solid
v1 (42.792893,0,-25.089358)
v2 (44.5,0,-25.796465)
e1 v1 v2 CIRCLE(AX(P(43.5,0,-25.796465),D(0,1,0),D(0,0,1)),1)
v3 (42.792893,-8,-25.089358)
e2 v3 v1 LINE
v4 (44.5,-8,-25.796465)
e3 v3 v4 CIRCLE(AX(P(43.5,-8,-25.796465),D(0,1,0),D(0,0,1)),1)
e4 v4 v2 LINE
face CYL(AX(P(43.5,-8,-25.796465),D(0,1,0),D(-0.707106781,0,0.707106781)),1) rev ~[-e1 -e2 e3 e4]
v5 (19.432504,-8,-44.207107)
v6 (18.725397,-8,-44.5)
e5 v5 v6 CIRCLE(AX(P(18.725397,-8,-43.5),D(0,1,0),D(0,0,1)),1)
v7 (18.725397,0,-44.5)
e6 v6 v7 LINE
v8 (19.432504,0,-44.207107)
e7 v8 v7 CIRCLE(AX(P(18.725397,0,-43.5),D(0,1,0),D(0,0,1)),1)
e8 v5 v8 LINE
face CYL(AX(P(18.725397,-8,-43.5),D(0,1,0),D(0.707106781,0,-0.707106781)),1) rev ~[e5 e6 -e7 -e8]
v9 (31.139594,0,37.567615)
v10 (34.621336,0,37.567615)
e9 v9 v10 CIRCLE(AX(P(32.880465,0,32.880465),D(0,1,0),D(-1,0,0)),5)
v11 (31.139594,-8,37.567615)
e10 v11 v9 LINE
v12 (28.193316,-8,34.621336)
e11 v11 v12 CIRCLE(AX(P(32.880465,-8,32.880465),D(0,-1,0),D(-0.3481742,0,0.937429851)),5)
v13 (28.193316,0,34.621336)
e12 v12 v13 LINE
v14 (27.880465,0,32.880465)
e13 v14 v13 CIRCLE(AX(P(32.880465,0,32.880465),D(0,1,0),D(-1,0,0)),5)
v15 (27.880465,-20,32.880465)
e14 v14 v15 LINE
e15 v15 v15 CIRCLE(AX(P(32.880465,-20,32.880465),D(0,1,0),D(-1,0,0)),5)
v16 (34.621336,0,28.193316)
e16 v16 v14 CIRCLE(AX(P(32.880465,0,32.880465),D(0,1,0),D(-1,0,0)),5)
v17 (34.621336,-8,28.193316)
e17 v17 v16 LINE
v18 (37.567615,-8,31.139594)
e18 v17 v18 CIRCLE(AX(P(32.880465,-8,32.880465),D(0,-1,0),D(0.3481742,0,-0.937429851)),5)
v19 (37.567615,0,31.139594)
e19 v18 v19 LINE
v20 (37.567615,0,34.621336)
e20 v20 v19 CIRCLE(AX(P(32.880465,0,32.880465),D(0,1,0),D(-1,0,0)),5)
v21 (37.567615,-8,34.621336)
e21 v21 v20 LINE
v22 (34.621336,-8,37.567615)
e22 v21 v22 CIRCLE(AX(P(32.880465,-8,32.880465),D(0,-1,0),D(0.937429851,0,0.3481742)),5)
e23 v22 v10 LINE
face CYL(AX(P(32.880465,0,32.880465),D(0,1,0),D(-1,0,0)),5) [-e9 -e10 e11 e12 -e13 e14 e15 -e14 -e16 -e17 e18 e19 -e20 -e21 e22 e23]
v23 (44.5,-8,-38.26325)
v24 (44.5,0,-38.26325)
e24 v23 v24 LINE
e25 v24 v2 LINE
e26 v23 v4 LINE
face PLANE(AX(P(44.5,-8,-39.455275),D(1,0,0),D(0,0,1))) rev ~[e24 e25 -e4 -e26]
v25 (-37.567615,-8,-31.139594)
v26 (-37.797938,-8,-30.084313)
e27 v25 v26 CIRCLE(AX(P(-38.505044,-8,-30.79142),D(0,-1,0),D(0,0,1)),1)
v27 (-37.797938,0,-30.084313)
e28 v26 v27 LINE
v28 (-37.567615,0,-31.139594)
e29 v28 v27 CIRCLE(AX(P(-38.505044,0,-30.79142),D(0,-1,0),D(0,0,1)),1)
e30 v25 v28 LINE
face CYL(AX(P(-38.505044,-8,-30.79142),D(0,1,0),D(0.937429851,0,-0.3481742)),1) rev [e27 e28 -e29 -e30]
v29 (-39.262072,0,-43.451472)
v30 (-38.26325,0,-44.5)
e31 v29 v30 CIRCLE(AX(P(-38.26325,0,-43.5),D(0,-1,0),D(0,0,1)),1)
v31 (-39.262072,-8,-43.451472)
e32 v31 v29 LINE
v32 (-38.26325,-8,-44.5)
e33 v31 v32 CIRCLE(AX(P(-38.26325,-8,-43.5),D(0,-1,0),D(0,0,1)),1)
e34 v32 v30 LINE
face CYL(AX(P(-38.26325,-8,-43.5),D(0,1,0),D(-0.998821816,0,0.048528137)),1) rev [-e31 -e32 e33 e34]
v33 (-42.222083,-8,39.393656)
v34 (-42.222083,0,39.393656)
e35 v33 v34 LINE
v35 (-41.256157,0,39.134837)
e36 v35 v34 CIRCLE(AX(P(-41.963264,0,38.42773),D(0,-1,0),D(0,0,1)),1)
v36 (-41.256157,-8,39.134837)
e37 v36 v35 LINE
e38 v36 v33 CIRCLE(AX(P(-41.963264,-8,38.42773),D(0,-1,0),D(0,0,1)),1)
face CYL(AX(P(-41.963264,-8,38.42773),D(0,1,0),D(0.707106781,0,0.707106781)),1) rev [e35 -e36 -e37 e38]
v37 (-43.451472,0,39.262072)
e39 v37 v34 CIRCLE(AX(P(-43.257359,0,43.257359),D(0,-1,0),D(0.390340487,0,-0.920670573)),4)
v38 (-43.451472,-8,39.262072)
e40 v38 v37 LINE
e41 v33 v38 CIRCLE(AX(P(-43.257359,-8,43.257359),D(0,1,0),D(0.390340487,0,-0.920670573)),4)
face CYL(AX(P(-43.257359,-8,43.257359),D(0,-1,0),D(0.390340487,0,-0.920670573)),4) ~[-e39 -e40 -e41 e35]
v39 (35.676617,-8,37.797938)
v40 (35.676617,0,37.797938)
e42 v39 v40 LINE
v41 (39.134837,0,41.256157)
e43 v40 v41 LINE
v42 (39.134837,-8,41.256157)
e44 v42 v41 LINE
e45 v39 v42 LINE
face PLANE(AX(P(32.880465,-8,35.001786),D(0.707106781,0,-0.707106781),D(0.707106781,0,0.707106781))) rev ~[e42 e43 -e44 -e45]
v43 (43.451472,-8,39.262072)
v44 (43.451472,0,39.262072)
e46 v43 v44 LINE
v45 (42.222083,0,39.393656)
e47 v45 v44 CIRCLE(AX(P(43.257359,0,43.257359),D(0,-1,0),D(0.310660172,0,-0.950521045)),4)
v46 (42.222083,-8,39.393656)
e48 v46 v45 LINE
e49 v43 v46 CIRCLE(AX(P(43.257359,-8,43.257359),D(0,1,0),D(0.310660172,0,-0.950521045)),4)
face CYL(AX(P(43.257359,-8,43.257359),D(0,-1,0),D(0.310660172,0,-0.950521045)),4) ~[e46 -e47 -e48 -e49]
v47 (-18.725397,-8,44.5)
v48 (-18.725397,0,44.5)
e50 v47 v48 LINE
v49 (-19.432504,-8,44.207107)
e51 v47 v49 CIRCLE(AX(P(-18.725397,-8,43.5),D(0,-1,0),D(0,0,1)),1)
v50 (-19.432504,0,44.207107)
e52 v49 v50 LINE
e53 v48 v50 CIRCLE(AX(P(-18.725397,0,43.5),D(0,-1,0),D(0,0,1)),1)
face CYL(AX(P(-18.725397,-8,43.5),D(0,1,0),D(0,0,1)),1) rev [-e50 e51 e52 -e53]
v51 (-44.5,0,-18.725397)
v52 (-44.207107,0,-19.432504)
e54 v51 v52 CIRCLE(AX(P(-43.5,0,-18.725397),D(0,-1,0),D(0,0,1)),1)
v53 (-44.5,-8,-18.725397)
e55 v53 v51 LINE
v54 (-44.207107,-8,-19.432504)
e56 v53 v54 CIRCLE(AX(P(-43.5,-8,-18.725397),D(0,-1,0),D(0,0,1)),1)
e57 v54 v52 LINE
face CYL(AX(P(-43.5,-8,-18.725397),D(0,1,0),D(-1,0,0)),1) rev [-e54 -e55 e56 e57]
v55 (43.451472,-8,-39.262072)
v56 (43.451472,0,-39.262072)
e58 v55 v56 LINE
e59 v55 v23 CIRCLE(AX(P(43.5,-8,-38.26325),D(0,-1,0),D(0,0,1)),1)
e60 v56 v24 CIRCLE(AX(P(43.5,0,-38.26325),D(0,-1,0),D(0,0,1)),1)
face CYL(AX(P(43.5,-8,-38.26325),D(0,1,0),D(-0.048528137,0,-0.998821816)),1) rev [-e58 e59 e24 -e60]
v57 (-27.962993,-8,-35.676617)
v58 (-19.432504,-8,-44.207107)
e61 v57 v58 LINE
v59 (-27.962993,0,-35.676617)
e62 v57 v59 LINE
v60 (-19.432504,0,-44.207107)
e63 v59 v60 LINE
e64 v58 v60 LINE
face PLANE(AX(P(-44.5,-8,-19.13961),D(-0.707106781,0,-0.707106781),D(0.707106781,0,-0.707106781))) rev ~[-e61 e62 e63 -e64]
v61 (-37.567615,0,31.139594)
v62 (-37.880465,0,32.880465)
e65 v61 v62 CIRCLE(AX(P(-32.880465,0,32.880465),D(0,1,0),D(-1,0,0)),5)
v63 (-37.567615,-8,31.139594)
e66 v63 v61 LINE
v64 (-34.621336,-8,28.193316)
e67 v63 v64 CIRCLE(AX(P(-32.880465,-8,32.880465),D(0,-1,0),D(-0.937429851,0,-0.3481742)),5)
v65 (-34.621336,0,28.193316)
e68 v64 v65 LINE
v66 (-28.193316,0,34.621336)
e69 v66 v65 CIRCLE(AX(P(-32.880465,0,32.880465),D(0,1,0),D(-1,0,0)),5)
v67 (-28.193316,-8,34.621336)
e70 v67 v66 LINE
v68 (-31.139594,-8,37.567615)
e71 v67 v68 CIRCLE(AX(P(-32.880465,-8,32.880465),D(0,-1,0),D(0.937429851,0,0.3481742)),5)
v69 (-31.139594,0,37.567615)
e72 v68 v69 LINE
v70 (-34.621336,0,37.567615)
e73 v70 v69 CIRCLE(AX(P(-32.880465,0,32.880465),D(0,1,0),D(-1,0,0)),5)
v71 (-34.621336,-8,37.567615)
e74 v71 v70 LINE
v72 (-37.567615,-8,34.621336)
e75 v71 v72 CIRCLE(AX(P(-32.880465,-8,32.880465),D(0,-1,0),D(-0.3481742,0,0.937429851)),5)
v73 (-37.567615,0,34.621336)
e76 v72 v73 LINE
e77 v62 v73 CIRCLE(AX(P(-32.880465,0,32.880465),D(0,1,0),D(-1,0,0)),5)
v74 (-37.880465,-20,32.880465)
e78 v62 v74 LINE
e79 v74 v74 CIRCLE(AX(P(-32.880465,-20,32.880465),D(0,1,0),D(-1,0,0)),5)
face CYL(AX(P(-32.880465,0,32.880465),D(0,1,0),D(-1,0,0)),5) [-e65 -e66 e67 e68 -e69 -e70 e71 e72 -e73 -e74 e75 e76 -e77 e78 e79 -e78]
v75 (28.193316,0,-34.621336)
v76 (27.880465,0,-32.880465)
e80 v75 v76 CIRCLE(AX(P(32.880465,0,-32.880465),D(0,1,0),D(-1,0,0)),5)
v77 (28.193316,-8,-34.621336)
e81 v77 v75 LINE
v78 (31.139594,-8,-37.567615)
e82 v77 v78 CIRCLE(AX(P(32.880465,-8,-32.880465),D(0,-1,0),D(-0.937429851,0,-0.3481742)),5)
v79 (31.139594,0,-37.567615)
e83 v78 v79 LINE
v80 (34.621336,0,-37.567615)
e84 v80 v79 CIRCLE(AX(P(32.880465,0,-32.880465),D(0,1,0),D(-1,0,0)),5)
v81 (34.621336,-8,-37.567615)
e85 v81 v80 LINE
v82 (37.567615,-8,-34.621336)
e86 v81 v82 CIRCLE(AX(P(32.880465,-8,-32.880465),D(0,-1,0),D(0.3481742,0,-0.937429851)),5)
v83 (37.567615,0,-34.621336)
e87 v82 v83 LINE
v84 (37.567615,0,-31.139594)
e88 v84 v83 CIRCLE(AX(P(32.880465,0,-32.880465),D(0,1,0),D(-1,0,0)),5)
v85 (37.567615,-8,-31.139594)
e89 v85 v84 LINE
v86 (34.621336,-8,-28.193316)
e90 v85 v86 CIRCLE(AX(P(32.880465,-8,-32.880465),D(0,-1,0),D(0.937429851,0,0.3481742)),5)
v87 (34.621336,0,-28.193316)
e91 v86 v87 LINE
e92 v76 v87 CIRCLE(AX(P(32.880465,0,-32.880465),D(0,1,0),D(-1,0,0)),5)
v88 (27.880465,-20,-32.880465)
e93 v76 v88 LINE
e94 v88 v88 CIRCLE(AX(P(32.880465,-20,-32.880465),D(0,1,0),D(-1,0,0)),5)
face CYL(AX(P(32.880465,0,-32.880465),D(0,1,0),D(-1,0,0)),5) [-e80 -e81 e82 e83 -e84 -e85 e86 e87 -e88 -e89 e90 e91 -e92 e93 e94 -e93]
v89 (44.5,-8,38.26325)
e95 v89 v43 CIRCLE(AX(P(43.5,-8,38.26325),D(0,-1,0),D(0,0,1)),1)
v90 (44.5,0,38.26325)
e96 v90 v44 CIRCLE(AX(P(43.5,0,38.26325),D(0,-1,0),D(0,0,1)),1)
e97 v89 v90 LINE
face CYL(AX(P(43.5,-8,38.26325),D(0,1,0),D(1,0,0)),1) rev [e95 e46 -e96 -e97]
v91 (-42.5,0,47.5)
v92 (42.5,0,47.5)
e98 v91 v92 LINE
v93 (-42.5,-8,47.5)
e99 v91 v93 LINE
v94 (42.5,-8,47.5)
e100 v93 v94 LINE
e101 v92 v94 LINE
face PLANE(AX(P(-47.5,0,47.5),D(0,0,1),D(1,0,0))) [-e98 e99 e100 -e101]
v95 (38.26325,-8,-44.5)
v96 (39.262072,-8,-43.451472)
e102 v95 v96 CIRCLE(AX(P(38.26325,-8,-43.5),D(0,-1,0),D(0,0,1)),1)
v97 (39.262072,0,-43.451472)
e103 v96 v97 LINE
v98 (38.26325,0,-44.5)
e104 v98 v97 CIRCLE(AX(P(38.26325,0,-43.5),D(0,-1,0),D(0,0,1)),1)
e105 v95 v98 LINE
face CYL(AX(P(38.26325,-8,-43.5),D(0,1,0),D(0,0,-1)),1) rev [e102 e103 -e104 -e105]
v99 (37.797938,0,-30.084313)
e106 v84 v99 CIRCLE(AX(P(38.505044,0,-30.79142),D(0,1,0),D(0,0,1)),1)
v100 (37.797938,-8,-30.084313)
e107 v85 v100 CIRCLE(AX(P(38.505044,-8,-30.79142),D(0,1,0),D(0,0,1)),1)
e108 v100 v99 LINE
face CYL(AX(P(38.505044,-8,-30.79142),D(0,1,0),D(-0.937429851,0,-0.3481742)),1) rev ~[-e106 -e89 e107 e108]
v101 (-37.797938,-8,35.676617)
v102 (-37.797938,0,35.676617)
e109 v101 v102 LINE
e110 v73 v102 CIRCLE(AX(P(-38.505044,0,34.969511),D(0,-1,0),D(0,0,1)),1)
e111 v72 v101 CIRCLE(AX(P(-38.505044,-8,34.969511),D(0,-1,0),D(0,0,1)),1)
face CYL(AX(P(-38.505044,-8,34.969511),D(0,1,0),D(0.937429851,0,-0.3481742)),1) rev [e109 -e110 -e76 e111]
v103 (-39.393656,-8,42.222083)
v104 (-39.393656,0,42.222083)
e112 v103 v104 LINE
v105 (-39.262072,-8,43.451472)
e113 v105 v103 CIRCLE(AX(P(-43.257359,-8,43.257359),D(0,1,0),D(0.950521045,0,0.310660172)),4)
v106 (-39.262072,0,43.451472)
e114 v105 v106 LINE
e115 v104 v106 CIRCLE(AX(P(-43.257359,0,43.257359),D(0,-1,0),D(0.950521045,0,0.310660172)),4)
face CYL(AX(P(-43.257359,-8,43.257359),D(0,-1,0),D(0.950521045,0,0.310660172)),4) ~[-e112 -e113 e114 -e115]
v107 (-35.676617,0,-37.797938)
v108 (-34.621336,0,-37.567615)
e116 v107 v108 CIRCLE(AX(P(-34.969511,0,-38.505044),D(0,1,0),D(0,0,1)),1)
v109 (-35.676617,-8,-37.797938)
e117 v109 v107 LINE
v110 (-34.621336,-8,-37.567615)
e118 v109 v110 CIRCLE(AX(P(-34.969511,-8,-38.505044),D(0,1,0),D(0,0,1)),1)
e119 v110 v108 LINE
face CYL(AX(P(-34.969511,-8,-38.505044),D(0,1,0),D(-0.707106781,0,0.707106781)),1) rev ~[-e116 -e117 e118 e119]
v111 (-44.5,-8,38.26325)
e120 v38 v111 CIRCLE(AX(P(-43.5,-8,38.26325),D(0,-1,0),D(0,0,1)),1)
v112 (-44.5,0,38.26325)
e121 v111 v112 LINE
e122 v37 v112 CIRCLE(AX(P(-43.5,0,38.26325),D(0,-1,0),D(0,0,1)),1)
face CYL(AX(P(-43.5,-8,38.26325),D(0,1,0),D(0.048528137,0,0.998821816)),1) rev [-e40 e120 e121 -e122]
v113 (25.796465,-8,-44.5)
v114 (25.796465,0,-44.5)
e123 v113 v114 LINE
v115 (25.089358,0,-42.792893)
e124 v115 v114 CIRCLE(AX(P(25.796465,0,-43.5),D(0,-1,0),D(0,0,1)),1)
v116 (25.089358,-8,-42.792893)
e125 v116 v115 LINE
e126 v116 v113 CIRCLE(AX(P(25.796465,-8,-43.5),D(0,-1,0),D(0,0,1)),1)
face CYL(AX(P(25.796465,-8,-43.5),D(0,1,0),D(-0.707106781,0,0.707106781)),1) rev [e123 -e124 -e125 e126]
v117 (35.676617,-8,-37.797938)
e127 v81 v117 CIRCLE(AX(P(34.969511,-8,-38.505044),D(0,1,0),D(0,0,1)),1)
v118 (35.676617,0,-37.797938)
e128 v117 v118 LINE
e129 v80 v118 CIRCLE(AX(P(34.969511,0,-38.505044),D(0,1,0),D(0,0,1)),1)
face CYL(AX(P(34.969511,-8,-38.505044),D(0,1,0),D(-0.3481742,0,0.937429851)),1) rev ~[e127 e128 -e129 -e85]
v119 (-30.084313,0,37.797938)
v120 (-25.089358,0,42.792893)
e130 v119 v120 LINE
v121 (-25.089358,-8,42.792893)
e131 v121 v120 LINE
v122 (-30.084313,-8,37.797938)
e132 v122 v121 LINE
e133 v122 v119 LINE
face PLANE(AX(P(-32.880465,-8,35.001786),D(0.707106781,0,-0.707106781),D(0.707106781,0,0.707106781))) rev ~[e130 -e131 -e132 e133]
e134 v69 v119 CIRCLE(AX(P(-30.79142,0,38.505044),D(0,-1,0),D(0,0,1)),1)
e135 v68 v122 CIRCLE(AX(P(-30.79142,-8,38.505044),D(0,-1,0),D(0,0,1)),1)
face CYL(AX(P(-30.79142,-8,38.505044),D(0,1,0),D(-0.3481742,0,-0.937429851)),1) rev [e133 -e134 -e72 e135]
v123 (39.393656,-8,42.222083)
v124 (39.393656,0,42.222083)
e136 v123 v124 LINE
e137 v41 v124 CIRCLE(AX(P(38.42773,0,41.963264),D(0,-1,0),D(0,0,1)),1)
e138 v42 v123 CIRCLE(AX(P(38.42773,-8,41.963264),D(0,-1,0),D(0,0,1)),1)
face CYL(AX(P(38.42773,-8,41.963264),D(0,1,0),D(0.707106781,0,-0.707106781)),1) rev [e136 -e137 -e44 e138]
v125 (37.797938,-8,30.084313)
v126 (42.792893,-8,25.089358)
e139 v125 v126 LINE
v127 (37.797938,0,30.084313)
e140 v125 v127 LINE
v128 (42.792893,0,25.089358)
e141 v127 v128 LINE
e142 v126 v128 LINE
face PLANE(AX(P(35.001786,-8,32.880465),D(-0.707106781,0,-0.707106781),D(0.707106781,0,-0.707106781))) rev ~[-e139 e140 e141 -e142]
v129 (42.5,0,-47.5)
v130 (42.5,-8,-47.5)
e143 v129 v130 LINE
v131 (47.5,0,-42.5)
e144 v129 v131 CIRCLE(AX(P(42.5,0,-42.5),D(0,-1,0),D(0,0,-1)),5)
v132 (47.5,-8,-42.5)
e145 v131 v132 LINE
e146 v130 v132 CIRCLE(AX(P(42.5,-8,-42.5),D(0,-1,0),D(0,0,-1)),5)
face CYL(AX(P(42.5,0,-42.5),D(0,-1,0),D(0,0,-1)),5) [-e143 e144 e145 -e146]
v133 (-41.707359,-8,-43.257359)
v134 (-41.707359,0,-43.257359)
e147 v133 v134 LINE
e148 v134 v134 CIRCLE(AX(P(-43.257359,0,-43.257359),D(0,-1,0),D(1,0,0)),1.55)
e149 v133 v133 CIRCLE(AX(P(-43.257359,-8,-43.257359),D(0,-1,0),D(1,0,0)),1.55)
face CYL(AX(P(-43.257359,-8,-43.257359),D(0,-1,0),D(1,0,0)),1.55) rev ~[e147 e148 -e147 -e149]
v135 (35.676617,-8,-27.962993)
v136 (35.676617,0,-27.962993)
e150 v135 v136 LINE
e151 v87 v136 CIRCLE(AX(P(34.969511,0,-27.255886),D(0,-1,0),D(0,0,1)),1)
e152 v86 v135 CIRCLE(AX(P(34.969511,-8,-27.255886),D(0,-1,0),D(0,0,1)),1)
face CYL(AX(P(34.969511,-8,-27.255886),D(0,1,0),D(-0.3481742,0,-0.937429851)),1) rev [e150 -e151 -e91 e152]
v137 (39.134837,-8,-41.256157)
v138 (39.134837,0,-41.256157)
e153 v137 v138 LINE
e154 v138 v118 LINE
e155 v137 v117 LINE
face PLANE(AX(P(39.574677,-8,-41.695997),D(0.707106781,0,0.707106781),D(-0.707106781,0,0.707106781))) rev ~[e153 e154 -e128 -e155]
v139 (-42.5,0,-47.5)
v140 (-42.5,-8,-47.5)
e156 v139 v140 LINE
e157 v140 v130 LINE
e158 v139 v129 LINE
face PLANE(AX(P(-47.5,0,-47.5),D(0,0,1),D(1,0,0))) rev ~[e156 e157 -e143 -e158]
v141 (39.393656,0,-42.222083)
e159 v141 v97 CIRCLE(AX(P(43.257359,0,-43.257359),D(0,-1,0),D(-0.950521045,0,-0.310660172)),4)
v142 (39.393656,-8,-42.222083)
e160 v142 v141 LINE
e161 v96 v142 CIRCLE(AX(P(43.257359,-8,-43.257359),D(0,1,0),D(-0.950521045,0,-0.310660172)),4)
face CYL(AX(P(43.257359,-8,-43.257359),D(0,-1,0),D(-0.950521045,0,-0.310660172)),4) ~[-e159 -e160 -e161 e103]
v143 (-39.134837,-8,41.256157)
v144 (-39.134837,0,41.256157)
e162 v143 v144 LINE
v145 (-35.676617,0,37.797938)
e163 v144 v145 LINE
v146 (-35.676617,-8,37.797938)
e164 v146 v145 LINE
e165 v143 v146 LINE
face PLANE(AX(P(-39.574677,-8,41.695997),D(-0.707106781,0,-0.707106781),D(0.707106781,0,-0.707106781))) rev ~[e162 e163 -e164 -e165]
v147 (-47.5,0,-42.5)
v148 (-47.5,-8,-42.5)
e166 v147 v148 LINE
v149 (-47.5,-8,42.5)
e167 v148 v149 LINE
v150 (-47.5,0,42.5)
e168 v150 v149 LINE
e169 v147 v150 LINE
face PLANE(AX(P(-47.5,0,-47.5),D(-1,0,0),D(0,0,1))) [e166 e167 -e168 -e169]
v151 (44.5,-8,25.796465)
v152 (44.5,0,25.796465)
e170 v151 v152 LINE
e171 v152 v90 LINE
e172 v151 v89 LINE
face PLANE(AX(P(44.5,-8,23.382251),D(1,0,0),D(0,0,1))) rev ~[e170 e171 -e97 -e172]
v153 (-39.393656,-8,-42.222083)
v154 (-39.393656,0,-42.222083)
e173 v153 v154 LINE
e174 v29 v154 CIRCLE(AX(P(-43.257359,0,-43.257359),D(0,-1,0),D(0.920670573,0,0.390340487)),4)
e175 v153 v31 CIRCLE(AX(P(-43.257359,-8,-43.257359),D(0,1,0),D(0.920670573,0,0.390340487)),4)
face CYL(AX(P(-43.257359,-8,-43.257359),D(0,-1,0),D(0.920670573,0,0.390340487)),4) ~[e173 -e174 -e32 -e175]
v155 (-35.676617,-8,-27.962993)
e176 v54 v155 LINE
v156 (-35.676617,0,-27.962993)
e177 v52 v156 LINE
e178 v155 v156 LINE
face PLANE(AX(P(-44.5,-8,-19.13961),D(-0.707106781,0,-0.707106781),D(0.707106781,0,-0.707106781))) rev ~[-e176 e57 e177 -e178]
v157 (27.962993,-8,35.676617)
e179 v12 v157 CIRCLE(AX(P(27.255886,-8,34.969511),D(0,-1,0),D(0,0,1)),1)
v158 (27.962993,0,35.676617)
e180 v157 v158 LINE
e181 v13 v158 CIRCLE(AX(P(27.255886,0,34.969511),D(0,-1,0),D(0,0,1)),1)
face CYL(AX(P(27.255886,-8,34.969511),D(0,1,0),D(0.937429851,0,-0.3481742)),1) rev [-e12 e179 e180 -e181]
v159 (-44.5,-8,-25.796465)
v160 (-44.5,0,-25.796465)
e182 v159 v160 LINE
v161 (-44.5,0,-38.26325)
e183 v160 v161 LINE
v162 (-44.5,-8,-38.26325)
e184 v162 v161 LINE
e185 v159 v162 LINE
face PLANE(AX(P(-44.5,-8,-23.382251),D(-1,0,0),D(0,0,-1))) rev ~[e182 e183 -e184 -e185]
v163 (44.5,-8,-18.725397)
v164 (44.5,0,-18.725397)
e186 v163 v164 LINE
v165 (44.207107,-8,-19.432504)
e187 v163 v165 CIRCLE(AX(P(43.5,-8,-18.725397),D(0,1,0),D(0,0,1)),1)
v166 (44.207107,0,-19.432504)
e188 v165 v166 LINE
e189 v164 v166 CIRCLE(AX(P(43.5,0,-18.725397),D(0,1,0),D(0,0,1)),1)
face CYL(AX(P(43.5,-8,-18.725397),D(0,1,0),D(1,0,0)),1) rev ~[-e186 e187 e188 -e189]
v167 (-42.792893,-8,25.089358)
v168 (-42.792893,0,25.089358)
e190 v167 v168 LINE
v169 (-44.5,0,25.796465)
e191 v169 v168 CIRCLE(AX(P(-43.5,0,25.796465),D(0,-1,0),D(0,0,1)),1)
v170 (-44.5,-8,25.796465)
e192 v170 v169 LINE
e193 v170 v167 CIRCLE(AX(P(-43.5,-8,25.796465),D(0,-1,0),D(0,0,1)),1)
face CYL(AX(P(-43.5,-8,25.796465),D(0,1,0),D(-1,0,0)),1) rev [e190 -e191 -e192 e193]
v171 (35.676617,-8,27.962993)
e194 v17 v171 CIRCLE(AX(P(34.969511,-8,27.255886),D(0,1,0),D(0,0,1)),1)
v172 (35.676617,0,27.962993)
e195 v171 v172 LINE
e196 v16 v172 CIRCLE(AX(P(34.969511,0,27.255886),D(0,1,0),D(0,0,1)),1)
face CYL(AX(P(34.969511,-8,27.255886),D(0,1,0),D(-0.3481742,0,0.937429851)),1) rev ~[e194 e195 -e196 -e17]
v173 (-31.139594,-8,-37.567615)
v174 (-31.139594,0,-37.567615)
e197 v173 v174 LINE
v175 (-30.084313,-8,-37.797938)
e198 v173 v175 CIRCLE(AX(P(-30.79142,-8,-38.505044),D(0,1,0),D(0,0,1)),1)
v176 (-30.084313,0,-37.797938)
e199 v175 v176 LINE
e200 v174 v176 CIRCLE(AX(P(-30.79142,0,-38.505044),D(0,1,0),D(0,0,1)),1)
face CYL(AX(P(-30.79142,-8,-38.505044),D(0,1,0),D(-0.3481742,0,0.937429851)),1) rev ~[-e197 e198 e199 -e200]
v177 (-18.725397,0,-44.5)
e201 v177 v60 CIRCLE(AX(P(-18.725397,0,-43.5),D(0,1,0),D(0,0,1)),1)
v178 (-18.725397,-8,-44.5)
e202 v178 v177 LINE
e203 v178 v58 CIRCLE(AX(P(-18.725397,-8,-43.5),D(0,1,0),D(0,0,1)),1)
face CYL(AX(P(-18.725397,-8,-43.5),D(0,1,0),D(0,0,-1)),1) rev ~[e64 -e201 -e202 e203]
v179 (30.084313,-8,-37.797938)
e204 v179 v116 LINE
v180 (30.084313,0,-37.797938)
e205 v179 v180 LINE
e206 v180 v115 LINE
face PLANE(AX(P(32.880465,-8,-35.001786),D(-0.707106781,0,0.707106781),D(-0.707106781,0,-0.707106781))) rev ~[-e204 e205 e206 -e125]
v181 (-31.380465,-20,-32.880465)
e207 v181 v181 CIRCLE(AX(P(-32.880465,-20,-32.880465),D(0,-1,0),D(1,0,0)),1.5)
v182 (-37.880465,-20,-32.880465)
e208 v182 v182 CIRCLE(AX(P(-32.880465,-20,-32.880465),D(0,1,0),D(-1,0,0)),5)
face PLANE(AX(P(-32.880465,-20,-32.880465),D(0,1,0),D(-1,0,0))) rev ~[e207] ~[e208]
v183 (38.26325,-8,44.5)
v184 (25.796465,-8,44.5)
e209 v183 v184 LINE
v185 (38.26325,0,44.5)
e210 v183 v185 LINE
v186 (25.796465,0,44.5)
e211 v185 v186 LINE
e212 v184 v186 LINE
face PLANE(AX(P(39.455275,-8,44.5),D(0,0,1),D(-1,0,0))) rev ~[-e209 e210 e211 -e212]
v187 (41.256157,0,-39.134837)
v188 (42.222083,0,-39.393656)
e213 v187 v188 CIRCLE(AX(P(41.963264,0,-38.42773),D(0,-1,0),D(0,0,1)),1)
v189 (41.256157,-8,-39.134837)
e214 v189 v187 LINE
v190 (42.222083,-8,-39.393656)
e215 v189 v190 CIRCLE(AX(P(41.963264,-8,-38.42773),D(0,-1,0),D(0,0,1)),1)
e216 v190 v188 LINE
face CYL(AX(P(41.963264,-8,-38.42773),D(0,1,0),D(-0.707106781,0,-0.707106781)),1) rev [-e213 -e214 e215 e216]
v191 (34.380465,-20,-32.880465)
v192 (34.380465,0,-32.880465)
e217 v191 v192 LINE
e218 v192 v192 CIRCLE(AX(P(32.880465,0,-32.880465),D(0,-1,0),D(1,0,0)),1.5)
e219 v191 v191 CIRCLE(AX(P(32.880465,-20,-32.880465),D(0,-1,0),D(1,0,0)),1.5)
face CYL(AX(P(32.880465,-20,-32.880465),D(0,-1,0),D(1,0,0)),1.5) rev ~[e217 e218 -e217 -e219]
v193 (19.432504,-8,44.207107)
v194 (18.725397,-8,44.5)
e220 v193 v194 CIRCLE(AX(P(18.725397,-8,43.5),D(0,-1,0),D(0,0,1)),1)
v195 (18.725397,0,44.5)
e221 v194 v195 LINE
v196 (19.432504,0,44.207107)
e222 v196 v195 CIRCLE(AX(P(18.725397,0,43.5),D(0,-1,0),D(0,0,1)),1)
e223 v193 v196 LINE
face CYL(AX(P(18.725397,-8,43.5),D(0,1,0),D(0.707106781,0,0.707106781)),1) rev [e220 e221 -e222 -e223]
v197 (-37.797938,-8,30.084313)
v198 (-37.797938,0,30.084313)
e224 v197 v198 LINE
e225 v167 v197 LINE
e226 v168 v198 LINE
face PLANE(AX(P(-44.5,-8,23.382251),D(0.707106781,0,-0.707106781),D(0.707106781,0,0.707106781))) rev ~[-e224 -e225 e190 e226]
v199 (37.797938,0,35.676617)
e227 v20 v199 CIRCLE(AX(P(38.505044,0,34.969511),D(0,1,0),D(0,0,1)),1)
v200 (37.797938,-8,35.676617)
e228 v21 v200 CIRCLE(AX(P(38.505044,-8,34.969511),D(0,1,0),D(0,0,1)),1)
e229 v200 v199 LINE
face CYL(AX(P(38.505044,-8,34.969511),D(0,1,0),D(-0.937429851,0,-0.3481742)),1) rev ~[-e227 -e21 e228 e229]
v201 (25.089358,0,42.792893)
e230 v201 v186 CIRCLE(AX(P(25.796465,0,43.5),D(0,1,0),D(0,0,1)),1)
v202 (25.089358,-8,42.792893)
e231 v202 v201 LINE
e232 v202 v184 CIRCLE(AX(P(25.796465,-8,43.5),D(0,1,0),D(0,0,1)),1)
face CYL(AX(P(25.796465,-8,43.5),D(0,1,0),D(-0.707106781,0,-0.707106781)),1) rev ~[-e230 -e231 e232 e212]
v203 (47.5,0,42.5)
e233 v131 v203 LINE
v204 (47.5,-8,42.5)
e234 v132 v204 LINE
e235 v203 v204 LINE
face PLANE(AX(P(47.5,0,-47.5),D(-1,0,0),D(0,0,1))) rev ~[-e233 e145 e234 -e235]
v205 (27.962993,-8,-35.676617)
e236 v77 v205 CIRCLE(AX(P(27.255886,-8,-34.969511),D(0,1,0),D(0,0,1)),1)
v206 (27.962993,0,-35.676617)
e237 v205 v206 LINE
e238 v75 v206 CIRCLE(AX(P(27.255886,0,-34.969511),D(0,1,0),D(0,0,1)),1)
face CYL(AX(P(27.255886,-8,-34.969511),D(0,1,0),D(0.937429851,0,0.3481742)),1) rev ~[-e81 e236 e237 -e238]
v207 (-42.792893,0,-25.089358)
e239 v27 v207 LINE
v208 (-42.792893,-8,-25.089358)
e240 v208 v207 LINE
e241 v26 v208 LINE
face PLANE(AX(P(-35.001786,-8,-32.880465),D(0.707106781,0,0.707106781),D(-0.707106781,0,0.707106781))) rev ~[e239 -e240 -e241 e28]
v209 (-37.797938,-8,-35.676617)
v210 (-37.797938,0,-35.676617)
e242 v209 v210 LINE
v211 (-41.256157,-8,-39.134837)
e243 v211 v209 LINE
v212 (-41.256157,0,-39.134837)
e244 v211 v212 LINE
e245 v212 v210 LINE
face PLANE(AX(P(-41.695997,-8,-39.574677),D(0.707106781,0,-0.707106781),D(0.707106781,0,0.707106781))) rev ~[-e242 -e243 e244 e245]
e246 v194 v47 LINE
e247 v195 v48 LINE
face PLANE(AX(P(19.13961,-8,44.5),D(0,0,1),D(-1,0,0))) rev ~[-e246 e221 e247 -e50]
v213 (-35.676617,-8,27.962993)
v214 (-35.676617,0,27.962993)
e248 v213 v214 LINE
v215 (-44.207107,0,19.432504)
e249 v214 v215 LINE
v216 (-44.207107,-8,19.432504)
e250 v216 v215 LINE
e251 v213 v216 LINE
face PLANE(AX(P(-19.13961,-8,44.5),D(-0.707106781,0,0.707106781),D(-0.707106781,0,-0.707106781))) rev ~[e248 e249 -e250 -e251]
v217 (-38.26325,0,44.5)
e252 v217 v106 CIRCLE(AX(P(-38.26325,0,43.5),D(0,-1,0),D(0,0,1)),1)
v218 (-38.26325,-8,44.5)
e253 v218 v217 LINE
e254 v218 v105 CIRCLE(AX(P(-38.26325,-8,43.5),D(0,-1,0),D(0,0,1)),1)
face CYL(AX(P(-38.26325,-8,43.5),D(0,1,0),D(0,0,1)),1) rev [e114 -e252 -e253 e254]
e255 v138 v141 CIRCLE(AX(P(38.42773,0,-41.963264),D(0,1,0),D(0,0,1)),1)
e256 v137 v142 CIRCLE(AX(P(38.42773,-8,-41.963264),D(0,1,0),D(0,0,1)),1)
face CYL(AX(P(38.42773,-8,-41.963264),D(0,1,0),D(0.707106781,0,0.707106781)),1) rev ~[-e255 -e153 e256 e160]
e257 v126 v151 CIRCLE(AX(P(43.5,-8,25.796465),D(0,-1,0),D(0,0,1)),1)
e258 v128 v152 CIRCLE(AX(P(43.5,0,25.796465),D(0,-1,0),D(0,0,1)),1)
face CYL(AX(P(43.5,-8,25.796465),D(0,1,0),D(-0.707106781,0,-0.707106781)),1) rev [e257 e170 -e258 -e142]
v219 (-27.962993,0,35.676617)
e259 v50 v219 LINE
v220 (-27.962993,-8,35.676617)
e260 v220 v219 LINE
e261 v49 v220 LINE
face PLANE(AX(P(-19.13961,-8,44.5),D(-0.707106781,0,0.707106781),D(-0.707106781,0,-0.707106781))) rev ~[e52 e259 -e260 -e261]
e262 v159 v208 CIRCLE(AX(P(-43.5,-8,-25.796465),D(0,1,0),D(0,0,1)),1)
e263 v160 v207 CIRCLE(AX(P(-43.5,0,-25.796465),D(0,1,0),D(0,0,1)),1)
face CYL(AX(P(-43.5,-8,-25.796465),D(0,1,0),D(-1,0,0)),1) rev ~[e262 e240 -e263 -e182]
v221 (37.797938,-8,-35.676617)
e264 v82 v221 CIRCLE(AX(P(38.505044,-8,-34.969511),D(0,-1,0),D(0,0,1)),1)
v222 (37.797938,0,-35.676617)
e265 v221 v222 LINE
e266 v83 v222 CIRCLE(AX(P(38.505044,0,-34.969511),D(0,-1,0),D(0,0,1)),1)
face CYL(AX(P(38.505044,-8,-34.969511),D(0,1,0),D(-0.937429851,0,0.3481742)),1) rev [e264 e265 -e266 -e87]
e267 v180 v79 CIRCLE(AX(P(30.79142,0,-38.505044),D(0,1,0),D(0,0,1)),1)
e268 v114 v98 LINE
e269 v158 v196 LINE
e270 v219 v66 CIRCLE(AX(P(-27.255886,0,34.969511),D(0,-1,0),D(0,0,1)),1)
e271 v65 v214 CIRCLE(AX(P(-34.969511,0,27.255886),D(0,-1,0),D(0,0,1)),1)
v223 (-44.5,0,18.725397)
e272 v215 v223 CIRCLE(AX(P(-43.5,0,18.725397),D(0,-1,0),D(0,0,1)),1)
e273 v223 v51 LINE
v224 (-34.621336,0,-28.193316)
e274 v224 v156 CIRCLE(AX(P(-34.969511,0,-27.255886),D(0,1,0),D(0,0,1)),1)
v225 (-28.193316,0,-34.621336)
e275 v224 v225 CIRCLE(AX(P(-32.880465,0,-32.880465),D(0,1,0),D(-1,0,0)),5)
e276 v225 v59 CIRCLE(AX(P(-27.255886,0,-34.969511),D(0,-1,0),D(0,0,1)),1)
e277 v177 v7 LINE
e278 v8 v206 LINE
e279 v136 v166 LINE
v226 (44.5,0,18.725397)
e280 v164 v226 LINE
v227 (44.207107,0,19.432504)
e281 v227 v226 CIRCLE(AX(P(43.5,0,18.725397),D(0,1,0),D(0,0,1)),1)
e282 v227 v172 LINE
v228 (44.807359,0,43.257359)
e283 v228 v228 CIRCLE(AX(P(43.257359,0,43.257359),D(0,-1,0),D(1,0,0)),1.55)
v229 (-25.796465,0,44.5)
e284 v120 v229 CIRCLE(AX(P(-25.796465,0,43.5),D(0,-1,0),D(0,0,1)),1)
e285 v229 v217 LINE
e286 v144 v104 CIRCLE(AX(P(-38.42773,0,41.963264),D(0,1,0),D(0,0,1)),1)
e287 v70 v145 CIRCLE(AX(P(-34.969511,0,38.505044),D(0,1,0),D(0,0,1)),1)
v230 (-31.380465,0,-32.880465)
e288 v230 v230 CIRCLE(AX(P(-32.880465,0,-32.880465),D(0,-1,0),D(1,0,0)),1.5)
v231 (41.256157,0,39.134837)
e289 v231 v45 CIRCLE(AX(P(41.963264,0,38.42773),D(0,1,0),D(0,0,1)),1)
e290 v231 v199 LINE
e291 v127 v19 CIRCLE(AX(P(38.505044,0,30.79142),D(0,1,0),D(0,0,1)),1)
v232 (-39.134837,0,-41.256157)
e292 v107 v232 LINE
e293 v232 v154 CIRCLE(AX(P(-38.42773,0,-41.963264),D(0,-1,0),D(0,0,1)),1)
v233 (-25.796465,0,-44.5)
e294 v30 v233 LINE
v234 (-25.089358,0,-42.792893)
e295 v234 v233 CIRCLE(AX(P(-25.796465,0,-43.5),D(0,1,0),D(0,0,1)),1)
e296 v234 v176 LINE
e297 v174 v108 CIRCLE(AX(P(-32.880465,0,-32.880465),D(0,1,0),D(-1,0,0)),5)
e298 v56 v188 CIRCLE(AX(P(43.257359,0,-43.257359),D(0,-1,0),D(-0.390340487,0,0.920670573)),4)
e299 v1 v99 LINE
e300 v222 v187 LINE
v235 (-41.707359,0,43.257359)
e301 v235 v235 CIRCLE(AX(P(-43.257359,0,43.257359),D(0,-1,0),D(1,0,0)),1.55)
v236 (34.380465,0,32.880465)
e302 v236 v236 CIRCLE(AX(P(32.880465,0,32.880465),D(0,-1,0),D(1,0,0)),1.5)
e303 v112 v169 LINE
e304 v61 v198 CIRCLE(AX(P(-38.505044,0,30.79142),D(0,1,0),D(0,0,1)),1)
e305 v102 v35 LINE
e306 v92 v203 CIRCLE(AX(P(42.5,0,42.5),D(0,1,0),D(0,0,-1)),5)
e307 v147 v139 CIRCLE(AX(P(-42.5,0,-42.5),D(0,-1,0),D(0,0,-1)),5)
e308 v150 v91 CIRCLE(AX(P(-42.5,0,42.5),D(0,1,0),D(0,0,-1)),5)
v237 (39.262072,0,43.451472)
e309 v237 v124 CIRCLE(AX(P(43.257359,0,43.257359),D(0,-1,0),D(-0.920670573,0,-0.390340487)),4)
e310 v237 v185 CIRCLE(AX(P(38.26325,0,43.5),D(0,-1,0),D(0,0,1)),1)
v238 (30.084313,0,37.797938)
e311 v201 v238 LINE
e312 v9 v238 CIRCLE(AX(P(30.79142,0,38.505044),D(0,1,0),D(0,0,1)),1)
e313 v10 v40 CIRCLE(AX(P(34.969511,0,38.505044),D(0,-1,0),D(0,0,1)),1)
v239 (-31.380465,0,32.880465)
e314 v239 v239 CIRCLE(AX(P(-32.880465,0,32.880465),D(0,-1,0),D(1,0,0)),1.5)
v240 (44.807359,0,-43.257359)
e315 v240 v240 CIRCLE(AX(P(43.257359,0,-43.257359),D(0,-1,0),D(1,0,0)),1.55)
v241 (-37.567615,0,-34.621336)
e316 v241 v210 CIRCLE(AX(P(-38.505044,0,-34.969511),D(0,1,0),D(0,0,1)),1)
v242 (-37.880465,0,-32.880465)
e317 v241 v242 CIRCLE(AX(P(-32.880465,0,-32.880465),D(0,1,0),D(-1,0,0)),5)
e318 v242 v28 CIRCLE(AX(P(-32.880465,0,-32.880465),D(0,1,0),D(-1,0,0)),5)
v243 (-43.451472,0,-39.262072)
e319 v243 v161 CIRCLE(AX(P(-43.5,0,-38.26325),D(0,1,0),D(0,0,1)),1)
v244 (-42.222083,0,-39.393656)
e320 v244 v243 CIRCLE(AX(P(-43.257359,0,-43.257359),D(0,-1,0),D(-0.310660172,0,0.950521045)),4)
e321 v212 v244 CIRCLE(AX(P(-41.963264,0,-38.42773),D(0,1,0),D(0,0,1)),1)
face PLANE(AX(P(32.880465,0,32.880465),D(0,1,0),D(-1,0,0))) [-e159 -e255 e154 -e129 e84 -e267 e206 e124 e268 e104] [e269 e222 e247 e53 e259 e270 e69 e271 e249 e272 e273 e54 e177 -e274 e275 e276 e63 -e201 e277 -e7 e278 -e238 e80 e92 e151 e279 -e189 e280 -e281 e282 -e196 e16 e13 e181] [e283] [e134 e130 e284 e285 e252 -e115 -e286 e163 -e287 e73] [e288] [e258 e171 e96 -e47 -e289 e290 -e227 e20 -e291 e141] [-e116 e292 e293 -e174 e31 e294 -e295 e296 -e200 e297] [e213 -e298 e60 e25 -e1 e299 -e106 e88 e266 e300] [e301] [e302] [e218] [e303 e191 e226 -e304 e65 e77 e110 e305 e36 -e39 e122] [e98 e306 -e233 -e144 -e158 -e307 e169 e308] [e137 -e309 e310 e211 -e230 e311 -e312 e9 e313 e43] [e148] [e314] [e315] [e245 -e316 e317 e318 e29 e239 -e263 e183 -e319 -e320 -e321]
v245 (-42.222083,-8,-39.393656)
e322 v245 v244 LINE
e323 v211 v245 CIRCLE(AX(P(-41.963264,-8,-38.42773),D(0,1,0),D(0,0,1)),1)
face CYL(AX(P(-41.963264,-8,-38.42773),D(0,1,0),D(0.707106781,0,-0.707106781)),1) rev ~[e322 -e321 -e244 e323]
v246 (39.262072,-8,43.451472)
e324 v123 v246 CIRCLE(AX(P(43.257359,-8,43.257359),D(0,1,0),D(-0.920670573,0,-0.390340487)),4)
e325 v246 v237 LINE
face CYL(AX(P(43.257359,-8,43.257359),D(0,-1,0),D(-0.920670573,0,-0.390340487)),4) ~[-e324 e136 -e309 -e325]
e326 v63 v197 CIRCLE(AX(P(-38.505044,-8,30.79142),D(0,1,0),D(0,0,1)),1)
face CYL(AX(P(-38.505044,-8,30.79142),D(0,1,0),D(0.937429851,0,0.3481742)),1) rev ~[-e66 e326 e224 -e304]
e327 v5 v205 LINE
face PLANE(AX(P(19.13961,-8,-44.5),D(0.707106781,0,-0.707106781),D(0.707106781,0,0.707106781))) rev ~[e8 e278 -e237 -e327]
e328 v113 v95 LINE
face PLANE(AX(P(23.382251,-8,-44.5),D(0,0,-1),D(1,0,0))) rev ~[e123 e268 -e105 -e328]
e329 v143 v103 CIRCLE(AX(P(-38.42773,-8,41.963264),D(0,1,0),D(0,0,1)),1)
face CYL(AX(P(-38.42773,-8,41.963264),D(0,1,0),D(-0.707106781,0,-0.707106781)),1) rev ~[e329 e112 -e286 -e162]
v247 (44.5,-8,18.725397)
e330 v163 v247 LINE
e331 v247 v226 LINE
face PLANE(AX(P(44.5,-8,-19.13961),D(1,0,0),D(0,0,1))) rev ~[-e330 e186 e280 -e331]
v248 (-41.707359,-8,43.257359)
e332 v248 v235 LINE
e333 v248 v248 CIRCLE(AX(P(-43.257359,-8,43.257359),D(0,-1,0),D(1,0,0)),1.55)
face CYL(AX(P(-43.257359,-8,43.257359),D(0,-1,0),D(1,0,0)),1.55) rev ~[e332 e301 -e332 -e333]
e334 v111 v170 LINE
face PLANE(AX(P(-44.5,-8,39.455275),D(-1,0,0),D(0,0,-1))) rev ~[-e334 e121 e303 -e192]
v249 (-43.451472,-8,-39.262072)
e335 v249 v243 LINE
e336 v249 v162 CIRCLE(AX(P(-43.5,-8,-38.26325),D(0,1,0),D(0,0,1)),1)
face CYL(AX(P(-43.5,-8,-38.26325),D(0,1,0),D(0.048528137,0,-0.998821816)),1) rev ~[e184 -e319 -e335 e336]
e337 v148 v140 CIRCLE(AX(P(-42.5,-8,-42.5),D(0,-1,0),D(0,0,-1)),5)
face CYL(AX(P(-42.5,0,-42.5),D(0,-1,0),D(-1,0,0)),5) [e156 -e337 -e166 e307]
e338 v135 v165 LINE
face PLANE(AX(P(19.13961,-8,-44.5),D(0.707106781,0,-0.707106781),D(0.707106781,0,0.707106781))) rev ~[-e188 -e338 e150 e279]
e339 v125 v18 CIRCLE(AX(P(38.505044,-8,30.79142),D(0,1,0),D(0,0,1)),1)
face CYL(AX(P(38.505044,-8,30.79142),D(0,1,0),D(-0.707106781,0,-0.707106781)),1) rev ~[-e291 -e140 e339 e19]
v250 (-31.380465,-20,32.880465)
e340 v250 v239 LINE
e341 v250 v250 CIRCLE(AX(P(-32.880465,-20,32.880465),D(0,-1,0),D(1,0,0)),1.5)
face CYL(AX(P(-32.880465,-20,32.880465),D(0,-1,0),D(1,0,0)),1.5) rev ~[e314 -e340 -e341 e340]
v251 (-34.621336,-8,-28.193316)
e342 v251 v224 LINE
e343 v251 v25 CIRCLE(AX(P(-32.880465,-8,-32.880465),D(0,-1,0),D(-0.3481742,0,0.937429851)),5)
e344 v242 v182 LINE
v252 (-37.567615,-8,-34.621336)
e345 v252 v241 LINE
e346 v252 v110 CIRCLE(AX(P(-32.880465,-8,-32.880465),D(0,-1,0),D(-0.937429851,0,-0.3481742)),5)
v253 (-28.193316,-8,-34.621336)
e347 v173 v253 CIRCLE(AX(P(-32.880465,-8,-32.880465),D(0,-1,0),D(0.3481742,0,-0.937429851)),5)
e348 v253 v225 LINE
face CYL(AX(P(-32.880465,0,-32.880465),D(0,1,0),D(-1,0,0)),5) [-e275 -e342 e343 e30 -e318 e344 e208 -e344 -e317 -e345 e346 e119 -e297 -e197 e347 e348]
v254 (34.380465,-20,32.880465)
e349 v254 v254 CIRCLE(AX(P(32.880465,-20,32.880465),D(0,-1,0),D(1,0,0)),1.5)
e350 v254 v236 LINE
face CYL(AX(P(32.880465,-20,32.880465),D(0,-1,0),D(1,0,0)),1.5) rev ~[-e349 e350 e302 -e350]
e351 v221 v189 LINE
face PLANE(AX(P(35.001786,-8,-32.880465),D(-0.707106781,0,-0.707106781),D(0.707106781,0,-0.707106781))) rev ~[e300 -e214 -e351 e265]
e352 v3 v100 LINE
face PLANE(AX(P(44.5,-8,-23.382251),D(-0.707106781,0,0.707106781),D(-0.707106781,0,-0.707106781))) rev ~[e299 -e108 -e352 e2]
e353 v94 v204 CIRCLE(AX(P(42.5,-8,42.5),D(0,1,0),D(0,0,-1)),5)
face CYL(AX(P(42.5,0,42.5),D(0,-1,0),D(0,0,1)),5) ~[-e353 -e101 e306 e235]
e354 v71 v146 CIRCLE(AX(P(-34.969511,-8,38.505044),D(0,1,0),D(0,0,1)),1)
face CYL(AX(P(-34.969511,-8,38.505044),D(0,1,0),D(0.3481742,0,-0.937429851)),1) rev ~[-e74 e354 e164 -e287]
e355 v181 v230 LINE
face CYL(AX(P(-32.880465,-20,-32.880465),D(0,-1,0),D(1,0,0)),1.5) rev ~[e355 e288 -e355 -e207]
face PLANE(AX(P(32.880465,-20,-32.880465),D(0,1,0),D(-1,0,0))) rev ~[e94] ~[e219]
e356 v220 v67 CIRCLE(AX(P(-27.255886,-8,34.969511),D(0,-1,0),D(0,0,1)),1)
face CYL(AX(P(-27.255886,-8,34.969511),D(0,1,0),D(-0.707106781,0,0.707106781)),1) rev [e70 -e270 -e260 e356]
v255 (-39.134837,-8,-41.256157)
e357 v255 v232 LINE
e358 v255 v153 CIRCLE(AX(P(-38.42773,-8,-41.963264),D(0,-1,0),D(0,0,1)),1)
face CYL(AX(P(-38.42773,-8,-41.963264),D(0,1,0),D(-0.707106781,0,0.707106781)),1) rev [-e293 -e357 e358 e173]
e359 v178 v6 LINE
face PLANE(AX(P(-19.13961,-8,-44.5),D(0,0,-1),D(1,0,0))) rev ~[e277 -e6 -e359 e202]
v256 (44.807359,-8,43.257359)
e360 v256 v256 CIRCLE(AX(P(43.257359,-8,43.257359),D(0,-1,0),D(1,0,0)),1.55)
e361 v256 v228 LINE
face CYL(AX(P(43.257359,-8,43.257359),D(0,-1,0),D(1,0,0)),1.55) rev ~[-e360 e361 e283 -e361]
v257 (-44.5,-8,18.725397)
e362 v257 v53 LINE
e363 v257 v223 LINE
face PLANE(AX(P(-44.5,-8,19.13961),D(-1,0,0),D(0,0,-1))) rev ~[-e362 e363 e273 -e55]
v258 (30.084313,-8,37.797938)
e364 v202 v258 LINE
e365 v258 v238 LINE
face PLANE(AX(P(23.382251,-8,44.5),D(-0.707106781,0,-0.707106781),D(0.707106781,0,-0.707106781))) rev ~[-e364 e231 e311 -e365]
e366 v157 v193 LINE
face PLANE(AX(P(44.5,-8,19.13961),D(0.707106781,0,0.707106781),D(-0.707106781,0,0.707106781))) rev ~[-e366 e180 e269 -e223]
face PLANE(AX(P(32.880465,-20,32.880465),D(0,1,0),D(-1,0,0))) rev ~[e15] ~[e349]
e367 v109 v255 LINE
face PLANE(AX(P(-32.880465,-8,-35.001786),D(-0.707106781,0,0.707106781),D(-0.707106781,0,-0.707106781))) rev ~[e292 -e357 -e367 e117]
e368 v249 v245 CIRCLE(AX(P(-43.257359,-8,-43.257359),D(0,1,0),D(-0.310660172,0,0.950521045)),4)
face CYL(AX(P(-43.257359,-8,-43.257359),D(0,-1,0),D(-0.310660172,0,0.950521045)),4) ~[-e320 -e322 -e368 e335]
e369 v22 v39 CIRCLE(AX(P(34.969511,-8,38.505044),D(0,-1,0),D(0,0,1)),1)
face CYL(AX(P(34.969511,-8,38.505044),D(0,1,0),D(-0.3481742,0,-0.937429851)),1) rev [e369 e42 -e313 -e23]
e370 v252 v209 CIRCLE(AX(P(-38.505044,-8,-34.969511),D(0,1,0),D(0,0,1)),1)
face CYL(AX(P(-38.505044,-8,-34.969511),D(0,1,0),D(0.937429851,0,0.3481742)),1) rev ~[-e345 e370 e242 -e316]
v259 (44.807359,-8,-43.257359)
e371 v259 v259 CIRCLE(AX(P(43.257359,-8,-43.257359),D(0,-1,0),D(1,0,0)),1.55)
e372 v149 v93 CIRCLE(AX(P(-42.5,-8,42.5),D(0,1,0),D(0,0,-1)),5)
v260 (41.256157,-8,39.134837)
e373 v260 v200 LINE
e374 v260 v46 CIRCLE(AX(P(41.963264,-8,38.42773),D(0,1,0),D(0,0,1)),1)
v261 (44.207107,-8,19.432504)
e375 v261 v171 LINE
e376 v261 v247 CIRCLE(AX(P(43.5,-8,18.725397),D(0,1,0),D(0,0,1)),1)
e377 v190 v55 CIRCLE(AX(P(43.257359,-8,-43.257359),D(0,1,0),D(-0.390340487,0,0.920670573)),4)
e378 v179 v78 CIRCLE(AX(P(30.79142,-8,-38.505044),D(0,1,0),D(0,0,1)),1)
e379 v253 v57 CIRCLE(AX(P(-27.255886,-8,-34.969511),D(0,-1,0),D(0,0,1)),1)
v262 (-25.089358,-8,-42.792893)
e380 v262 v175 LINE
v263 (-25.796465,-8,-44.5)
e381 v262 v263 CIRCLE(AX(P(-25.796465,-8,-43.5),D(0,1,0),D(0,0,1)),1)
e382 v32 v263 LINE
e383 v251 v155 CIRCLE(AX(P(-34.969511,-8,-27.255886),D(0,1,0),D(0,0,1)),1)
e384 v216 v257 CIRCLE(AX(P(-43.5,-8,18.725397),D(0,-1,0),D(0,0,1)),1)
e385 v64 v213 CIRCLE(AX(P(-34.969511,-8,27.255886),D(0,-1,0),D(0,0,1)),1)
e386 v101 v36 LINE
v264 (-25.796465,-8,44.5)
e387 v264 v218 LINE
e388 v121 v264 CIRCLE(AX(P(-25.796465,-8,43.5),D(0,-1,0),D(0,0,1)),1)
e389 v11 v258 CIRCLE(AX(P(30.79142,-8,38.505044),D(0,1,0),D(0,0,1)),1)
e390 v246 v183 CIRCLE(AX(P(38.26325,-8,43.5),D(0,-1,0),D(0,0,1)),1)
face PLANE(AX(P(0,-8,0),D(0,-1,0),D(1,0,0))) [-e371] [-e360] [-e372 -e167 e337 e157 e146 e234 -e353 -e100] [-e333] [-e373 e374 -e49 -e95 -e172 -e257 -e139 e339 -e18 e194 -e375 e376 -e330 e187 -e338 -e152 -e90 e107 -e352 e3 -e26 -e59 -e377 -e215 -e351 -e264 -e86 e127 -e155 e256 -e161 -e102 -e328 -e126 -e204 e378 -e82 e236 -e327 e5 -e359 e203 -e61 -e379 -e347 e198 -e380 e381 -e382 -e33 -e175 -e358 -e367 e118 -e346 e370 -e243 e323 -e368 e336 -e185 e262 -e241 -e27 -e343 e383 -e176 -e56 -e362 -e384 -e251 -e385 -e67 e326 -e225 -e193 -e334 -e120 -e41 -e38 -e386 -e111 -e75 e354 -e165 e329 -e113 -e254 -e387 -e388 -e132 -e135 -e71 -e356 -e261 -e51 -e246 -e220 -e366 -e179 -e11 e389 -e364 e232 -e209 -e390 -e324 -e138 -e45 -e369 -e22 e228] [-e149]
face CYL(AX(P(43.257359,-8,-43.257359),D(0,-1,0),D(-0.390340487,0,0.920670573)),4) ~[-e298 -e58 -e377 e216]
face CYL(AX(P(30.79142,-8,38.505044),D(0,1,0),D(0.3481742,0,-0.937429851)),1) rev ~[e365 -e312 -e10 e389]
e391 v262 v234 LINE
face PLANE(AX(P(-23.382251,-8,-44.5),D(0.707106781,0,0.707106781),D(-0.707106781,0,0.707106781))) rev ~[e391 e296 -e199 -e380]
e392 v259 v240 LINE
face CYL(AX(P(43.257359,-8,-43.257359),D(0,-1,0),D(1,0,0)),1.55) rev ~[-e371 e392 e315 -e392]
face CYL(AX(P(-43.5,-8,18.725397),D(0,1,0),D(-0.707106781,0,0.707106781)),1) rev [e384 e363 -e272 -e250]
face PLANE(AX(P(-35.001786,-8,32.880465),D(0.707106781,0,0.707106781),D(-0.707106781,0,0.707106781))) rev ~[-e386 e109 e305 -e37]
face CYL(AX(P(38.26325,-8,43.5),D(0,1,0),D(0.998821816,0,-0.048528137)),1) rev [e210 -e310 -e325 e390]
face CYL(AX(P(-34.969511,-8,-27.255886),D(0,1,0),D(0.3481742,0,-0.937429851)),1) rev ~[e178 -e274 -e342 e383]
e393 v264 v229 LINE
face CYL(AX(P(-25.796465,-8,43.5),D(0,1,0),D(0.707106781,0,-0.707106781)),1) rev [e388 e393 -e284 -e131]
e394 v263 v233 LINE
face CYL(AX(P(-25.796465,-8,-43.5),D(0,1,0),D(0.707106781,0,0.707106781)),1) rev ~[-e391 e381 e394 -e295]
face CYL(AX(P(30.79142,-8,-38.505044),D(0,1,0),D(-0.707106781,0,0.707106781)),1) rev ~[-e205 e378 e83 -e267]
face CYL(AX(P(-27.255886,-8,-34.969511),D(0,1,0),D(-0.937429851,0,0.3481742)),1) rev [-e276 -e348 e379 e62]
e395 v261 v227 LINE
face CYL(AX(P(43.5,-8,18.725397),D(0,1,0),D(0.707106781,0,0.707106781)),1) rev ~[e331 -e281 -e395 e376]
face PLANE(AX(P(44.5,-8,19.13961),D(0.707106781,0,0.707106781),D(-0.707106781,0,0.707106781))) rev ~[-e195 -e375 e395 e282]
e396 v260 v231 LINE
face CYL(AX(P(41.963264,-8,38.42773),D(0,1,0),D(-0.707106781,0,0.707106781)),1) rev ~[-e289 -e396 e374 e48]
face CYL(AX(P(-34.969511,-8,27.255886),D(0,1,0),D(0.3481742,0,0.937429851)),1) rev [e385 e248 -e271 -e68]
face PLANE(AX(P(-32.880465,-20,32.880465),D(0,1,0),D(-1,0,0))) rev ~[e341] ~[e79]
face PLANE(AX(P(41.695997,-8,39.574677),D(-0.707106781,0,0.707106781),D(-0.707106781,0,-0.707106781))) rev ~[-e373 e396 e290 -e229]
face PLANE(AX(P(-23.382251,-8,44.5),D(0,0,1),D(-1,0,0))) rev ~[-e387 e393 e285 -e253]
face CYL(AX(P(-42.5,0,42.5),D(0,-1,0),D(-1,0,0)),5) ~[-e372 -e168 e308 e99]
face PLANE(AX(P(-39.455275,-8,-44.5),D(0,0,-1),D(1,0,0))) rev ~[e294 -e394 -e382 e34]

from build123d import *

# Parameters (mm, degrees)
F0_W     = 95
F0_H     = 95
F1_DEPTH = 8
F2_R     = 1.55
F3_DEPTH = 8.001
F5_DEPTH = 8.001
F6_R     = 5
F7_DEPTH = 20
F8_R     = 1.5
F9_DEPTH = 20.001
F11_R    = 5
F12_R    = 1


with BuildPart() as f1:
    # F0 (on Front) → F1 (new body)
    with BuildSketch(Plane.XZ):
        Rectangle(F0_W, F0_H)
    extrude(amount=F1_DEPTH)

    # F2 (on face) → F3 (cut, through all)
    with BuildSketch(Plane.XZ.offset(8)):
        with Locations((-43.2573593129, 43.2573593129)):
            Circle(F2_R)
        with Locations((-43.2573593129, -43.2573593129)):
            Circle(F2_R)
        with Locations((43.2573593129, -43.2573593129)):
            Circle(F2_R)
        with Locations((43.2573593129, 43.2573593129)):
            Circle(F2_R)
    extrude(amount=-F3_DEPTH, mode=Mode.SUBTRACT)

    # F4 (on face) → F5 (cut, through all)
    with BuildSketch(Plane.XZ.offset(8)):
        Polygon((-44.5, 19.1396103068), (-44.5, 0), (-44.5, -19.1396103068), (-31.8198051534, -31.8198051534), (-19.1396103068, -44.5), (0, -44.5), (19.1396103068, -44.5), (31.8198051534, -31.8198051534), (44.5, -19.1396103068), (44.5, 0), (44.5, 19.1396103068), (31.8198051534, 31.8198051534), (19.1396103068, 44.5), (0, 44.5), (-19.1396103068, 44.5), (-31.8198051534, 31.8198051534), align=None)
        with BuildLine():
            ThreePointArc((-39.4552751314, 44.5), (-39.2609809541, 43.0871828943), (-39.5746770207, 41.6959973642))
            Line((-39.5746770207, 41.6959973642), (-32.8804653252, 35.0017856687))
            Line((-32.8804653252, 35.0017856687), (-23.3822509939, 44.5))
            Line((-23.3822509939, 44.5), (-39.4552751314, 44.5))
        make_face()
        with BuildLine():
            Line((-44.5, 23.3822509939), (-35.0017856687, 32.8804653252))
            Line((-35.0017856687, 32.8804653252), (-41.6959973642, 39.5746770207))
            ThreePointArc((-41.6959973642, 39.5746770207), (-43.0871828943, 39.2609809541), (-44.5, 39.4552751314))
            Line((-44.5, 39.4552751314), (-44.5, 23.3822509939))
        make_face()
        with BuildLine():
            Line((-32.8804653252, -35.0017856687), (-39.5746770207, -41.6959973642))
            ThreePointArc((-39.5746770207, -41.6959973642), (-39.2609809541, -43.0871828943), (-39.4552751314, -44.5))
            Line((-39.4552751314, -44.5), (-23.3822509939, -44.5))
            Line((-23.3822509939, -44.5), (-32.8804653252, -35.0017856687))
        make_face()
        with BuildLine():
            ThreePointArc((-44.5, -39.4552751314), (-43.0871828943, -39.2609809541), (-41.6959973642, -39.5746770207))
            Line((-41.6959973642, -39.5746770207), (-35.0017856687, -32.8804653252))
            Line((-35.0017856687, -32.8804653252), (-44.5, -23.3822509939))
            Line((-44.5, -23.3822509939), (-44.5, -39.4552751314))
        make_face()
        with BuildLine():
            Line((35.0017856687, -32.8804653252), (41.6959973642, -39.5746770207))
            ThreePointArc((41.6959973642, -39.5746770207), (43.0871828943, -39.2609809541), (44.5, -39.4552751314))
            Line((44.5, -39.4552751314), (44.5, -23.3822509939))
            Line((44.5, -23.3822509939), (35.0017856687, -32.8804653252))
        make_face()
        with BuildLine():
            ThreePointArc((39.4552751314, -44.5), (39.2609809541, -43.0871828943), (39.5746770207, -41.6959973642))
            Line((39.5746770207, -41.6959973642), (32.8804653252, -35.0017856687))
            Line((32.8804653252, -35.0017856687), (23.3822509939, -44.5))
            Line((23.3822509939, -44.5), (39.4552751314, -44.5))
        make_face()
        with BuildLine():
            Line((32.8804653252, 35.0017856687), (39.5746770207, 41.6959973642))
            ThreePointArc((39.5746770207, 41.6959973642), (39.2609809541, 43.0871828943), (39.4552751314, 44.5))
            Line((39.4552751314, 44.5), (23.3822509939, 44.5))
            Line((23.3822509939, 44.5), (32.8804653252, 35.0017856687))
        make_face()
        with BuildLine():
            ThreePointArc((44.5, 39.4552751314), (43.0871828943, 39.2609809541), (41.6959973642, 39.5746770207))
            Line((41.6959973642, 39.5746770207), (35.0017856687, 32.8804653252))
            Line((35.0017856687, 32.8804653252), (44.5, 23.3822509939))
            Line((44.5, 23.3822509939), (44.5, 39.4552751314))
        make_face()
    extrude(amount=-F5_DEPTH, mode=Mode.SUBTRACT)

    # F6 (on face) → F7 (join)
    with BuildSketch(Plane(origin=(0, 0, 0), x_dir=(-1, 0, 0), z_dir=(0, 1, 0))):
        with Locations((-32.8804653252, 32.8804653252)):
            Circle(F6_R)
        with Locations((-32.8804653252, -32.8804653252)):
            Circle(F6_R)
        with Locations((32.8804653252, -32.8804653252)):
            Circle(F6_R)
        with Locations((32.8804653252, 32.8804653252)):
            Circle(F6_R)
    extrude(amount=-F7_DEPTH)

    # F8 (on face) → F9 (cut, through all)
    with BuildSketch(Plane.XZ.offset(20)):
        with Locations((-32.8804653252, -32.8804653252)):
            Circle(F8_R)
        with Locations((32.8804653252, -32.8804653252)):
            Circle(F8_R)
        with Locations((32.8804653252, 32.8804653252)):
            Circle(F8_R)
        with Locations((-32.8804653252, 32.8804653252)):
            Circle(F8_R)
    extrude(amount=-F9_DEPTH, mode=Mode.SUBTRACT)

    # F11
    f11_edges = [f1.edges().sort_by_distance(p)[0] for p in [
        (-47.5, -4, 47.5),
        (47.5, -4, 47.5),
        (47.5, -4, -47.5),
        (-47.5, -4, -47.5),
    ]]
    fillet(f11_edges, radius=F11_R)

    # F12
    f12_edges = [f1.edges().sort_by_distance(p)[0] for p in [
        (-39.455275, -4, 44.5),
        (-39.574677, -4, 41.695997),
        (-23.382251, -4, 44.5),
        (-30.568441, -4, 37.31381),
        (-35.19249, -4, 37.31381),
        (-37.31381, -4, 35.19249),
        (-37.31381, -4, 30.568441),
        (-44.5, -4, 23.382251),
        (-41.695997, -4, 39.574677),
        (-44.5, -4, 39.455275),
        (-44.5, -4, 19.13961),
        (-19.13961, -4, 44.5),
        (-28.447121, -4, 35.19249),
        (-35.19249, -4, 28.447121),
        (30.568441, -4, 37.31381),
        (35.19249, -4, 37.31381),
        (44.5, -4, 23.382251),
        (19.13961, -4, 44.5),
        (35.19249, -4, 28.447121),
        (28.447121, -4, 35.19249),
        (44.5, -4, 19.13961),
        (39.455275, -4, 44.5),
        (41.695997, -4, 39.574677),
        (44.5, -4, 39.455275),
        (37.31381, -4, 30.568441),
        (23.382251, -4, 44.5),
        (39.574677, -4, 41.695997),
        (37.31381, -4, 35.19249),
        (44.5, -4, -19.13961),
        (28.447121, -4, -35.19249),
        (35.19249, -4, -28.447121),
        (19.13961, -4, -44.5),
        (37.31381, -4, -30.568441),
        (37.31381, -4, -35.19249),
        (44.5, -4, -23.382251),
        (35.19249, -4, -37.31381),
        (30.568441, -4, -37.31381),
        (44.5, -4, -39.455275),
        (41.695997, -4, -39.574677),
        (39.574677, -4, -41.695997),
        (39.455275, -4, -44.5),
        (23.382251, -4, -44.5),
        (-19.13961, -4, -44.5),
        (-28.447121, -4, -35.19249),
        (-35.19249, -4, -28.447121),
        (-44.5, -4, -19.13961),
        (-23.382251, -4, -44.5),
        (-30.568441, -4, -37.31381),
        (-39.455275, -4, -44.5),
        (-39.574677, -4, -41.695997),
        (-35.19249, -4, -37.31381),
        (-37.31381, -4, -35.19249),
        (-37.31381, -4, -30.568441),
        (-44.5, -4, -23.382251),
        (-41.695997, -4, -39.574677),
        (-44.5, -4, -39.455275),
    ]]
    fillet(f12_edges, radius=F12_R)


solid = f1.part
